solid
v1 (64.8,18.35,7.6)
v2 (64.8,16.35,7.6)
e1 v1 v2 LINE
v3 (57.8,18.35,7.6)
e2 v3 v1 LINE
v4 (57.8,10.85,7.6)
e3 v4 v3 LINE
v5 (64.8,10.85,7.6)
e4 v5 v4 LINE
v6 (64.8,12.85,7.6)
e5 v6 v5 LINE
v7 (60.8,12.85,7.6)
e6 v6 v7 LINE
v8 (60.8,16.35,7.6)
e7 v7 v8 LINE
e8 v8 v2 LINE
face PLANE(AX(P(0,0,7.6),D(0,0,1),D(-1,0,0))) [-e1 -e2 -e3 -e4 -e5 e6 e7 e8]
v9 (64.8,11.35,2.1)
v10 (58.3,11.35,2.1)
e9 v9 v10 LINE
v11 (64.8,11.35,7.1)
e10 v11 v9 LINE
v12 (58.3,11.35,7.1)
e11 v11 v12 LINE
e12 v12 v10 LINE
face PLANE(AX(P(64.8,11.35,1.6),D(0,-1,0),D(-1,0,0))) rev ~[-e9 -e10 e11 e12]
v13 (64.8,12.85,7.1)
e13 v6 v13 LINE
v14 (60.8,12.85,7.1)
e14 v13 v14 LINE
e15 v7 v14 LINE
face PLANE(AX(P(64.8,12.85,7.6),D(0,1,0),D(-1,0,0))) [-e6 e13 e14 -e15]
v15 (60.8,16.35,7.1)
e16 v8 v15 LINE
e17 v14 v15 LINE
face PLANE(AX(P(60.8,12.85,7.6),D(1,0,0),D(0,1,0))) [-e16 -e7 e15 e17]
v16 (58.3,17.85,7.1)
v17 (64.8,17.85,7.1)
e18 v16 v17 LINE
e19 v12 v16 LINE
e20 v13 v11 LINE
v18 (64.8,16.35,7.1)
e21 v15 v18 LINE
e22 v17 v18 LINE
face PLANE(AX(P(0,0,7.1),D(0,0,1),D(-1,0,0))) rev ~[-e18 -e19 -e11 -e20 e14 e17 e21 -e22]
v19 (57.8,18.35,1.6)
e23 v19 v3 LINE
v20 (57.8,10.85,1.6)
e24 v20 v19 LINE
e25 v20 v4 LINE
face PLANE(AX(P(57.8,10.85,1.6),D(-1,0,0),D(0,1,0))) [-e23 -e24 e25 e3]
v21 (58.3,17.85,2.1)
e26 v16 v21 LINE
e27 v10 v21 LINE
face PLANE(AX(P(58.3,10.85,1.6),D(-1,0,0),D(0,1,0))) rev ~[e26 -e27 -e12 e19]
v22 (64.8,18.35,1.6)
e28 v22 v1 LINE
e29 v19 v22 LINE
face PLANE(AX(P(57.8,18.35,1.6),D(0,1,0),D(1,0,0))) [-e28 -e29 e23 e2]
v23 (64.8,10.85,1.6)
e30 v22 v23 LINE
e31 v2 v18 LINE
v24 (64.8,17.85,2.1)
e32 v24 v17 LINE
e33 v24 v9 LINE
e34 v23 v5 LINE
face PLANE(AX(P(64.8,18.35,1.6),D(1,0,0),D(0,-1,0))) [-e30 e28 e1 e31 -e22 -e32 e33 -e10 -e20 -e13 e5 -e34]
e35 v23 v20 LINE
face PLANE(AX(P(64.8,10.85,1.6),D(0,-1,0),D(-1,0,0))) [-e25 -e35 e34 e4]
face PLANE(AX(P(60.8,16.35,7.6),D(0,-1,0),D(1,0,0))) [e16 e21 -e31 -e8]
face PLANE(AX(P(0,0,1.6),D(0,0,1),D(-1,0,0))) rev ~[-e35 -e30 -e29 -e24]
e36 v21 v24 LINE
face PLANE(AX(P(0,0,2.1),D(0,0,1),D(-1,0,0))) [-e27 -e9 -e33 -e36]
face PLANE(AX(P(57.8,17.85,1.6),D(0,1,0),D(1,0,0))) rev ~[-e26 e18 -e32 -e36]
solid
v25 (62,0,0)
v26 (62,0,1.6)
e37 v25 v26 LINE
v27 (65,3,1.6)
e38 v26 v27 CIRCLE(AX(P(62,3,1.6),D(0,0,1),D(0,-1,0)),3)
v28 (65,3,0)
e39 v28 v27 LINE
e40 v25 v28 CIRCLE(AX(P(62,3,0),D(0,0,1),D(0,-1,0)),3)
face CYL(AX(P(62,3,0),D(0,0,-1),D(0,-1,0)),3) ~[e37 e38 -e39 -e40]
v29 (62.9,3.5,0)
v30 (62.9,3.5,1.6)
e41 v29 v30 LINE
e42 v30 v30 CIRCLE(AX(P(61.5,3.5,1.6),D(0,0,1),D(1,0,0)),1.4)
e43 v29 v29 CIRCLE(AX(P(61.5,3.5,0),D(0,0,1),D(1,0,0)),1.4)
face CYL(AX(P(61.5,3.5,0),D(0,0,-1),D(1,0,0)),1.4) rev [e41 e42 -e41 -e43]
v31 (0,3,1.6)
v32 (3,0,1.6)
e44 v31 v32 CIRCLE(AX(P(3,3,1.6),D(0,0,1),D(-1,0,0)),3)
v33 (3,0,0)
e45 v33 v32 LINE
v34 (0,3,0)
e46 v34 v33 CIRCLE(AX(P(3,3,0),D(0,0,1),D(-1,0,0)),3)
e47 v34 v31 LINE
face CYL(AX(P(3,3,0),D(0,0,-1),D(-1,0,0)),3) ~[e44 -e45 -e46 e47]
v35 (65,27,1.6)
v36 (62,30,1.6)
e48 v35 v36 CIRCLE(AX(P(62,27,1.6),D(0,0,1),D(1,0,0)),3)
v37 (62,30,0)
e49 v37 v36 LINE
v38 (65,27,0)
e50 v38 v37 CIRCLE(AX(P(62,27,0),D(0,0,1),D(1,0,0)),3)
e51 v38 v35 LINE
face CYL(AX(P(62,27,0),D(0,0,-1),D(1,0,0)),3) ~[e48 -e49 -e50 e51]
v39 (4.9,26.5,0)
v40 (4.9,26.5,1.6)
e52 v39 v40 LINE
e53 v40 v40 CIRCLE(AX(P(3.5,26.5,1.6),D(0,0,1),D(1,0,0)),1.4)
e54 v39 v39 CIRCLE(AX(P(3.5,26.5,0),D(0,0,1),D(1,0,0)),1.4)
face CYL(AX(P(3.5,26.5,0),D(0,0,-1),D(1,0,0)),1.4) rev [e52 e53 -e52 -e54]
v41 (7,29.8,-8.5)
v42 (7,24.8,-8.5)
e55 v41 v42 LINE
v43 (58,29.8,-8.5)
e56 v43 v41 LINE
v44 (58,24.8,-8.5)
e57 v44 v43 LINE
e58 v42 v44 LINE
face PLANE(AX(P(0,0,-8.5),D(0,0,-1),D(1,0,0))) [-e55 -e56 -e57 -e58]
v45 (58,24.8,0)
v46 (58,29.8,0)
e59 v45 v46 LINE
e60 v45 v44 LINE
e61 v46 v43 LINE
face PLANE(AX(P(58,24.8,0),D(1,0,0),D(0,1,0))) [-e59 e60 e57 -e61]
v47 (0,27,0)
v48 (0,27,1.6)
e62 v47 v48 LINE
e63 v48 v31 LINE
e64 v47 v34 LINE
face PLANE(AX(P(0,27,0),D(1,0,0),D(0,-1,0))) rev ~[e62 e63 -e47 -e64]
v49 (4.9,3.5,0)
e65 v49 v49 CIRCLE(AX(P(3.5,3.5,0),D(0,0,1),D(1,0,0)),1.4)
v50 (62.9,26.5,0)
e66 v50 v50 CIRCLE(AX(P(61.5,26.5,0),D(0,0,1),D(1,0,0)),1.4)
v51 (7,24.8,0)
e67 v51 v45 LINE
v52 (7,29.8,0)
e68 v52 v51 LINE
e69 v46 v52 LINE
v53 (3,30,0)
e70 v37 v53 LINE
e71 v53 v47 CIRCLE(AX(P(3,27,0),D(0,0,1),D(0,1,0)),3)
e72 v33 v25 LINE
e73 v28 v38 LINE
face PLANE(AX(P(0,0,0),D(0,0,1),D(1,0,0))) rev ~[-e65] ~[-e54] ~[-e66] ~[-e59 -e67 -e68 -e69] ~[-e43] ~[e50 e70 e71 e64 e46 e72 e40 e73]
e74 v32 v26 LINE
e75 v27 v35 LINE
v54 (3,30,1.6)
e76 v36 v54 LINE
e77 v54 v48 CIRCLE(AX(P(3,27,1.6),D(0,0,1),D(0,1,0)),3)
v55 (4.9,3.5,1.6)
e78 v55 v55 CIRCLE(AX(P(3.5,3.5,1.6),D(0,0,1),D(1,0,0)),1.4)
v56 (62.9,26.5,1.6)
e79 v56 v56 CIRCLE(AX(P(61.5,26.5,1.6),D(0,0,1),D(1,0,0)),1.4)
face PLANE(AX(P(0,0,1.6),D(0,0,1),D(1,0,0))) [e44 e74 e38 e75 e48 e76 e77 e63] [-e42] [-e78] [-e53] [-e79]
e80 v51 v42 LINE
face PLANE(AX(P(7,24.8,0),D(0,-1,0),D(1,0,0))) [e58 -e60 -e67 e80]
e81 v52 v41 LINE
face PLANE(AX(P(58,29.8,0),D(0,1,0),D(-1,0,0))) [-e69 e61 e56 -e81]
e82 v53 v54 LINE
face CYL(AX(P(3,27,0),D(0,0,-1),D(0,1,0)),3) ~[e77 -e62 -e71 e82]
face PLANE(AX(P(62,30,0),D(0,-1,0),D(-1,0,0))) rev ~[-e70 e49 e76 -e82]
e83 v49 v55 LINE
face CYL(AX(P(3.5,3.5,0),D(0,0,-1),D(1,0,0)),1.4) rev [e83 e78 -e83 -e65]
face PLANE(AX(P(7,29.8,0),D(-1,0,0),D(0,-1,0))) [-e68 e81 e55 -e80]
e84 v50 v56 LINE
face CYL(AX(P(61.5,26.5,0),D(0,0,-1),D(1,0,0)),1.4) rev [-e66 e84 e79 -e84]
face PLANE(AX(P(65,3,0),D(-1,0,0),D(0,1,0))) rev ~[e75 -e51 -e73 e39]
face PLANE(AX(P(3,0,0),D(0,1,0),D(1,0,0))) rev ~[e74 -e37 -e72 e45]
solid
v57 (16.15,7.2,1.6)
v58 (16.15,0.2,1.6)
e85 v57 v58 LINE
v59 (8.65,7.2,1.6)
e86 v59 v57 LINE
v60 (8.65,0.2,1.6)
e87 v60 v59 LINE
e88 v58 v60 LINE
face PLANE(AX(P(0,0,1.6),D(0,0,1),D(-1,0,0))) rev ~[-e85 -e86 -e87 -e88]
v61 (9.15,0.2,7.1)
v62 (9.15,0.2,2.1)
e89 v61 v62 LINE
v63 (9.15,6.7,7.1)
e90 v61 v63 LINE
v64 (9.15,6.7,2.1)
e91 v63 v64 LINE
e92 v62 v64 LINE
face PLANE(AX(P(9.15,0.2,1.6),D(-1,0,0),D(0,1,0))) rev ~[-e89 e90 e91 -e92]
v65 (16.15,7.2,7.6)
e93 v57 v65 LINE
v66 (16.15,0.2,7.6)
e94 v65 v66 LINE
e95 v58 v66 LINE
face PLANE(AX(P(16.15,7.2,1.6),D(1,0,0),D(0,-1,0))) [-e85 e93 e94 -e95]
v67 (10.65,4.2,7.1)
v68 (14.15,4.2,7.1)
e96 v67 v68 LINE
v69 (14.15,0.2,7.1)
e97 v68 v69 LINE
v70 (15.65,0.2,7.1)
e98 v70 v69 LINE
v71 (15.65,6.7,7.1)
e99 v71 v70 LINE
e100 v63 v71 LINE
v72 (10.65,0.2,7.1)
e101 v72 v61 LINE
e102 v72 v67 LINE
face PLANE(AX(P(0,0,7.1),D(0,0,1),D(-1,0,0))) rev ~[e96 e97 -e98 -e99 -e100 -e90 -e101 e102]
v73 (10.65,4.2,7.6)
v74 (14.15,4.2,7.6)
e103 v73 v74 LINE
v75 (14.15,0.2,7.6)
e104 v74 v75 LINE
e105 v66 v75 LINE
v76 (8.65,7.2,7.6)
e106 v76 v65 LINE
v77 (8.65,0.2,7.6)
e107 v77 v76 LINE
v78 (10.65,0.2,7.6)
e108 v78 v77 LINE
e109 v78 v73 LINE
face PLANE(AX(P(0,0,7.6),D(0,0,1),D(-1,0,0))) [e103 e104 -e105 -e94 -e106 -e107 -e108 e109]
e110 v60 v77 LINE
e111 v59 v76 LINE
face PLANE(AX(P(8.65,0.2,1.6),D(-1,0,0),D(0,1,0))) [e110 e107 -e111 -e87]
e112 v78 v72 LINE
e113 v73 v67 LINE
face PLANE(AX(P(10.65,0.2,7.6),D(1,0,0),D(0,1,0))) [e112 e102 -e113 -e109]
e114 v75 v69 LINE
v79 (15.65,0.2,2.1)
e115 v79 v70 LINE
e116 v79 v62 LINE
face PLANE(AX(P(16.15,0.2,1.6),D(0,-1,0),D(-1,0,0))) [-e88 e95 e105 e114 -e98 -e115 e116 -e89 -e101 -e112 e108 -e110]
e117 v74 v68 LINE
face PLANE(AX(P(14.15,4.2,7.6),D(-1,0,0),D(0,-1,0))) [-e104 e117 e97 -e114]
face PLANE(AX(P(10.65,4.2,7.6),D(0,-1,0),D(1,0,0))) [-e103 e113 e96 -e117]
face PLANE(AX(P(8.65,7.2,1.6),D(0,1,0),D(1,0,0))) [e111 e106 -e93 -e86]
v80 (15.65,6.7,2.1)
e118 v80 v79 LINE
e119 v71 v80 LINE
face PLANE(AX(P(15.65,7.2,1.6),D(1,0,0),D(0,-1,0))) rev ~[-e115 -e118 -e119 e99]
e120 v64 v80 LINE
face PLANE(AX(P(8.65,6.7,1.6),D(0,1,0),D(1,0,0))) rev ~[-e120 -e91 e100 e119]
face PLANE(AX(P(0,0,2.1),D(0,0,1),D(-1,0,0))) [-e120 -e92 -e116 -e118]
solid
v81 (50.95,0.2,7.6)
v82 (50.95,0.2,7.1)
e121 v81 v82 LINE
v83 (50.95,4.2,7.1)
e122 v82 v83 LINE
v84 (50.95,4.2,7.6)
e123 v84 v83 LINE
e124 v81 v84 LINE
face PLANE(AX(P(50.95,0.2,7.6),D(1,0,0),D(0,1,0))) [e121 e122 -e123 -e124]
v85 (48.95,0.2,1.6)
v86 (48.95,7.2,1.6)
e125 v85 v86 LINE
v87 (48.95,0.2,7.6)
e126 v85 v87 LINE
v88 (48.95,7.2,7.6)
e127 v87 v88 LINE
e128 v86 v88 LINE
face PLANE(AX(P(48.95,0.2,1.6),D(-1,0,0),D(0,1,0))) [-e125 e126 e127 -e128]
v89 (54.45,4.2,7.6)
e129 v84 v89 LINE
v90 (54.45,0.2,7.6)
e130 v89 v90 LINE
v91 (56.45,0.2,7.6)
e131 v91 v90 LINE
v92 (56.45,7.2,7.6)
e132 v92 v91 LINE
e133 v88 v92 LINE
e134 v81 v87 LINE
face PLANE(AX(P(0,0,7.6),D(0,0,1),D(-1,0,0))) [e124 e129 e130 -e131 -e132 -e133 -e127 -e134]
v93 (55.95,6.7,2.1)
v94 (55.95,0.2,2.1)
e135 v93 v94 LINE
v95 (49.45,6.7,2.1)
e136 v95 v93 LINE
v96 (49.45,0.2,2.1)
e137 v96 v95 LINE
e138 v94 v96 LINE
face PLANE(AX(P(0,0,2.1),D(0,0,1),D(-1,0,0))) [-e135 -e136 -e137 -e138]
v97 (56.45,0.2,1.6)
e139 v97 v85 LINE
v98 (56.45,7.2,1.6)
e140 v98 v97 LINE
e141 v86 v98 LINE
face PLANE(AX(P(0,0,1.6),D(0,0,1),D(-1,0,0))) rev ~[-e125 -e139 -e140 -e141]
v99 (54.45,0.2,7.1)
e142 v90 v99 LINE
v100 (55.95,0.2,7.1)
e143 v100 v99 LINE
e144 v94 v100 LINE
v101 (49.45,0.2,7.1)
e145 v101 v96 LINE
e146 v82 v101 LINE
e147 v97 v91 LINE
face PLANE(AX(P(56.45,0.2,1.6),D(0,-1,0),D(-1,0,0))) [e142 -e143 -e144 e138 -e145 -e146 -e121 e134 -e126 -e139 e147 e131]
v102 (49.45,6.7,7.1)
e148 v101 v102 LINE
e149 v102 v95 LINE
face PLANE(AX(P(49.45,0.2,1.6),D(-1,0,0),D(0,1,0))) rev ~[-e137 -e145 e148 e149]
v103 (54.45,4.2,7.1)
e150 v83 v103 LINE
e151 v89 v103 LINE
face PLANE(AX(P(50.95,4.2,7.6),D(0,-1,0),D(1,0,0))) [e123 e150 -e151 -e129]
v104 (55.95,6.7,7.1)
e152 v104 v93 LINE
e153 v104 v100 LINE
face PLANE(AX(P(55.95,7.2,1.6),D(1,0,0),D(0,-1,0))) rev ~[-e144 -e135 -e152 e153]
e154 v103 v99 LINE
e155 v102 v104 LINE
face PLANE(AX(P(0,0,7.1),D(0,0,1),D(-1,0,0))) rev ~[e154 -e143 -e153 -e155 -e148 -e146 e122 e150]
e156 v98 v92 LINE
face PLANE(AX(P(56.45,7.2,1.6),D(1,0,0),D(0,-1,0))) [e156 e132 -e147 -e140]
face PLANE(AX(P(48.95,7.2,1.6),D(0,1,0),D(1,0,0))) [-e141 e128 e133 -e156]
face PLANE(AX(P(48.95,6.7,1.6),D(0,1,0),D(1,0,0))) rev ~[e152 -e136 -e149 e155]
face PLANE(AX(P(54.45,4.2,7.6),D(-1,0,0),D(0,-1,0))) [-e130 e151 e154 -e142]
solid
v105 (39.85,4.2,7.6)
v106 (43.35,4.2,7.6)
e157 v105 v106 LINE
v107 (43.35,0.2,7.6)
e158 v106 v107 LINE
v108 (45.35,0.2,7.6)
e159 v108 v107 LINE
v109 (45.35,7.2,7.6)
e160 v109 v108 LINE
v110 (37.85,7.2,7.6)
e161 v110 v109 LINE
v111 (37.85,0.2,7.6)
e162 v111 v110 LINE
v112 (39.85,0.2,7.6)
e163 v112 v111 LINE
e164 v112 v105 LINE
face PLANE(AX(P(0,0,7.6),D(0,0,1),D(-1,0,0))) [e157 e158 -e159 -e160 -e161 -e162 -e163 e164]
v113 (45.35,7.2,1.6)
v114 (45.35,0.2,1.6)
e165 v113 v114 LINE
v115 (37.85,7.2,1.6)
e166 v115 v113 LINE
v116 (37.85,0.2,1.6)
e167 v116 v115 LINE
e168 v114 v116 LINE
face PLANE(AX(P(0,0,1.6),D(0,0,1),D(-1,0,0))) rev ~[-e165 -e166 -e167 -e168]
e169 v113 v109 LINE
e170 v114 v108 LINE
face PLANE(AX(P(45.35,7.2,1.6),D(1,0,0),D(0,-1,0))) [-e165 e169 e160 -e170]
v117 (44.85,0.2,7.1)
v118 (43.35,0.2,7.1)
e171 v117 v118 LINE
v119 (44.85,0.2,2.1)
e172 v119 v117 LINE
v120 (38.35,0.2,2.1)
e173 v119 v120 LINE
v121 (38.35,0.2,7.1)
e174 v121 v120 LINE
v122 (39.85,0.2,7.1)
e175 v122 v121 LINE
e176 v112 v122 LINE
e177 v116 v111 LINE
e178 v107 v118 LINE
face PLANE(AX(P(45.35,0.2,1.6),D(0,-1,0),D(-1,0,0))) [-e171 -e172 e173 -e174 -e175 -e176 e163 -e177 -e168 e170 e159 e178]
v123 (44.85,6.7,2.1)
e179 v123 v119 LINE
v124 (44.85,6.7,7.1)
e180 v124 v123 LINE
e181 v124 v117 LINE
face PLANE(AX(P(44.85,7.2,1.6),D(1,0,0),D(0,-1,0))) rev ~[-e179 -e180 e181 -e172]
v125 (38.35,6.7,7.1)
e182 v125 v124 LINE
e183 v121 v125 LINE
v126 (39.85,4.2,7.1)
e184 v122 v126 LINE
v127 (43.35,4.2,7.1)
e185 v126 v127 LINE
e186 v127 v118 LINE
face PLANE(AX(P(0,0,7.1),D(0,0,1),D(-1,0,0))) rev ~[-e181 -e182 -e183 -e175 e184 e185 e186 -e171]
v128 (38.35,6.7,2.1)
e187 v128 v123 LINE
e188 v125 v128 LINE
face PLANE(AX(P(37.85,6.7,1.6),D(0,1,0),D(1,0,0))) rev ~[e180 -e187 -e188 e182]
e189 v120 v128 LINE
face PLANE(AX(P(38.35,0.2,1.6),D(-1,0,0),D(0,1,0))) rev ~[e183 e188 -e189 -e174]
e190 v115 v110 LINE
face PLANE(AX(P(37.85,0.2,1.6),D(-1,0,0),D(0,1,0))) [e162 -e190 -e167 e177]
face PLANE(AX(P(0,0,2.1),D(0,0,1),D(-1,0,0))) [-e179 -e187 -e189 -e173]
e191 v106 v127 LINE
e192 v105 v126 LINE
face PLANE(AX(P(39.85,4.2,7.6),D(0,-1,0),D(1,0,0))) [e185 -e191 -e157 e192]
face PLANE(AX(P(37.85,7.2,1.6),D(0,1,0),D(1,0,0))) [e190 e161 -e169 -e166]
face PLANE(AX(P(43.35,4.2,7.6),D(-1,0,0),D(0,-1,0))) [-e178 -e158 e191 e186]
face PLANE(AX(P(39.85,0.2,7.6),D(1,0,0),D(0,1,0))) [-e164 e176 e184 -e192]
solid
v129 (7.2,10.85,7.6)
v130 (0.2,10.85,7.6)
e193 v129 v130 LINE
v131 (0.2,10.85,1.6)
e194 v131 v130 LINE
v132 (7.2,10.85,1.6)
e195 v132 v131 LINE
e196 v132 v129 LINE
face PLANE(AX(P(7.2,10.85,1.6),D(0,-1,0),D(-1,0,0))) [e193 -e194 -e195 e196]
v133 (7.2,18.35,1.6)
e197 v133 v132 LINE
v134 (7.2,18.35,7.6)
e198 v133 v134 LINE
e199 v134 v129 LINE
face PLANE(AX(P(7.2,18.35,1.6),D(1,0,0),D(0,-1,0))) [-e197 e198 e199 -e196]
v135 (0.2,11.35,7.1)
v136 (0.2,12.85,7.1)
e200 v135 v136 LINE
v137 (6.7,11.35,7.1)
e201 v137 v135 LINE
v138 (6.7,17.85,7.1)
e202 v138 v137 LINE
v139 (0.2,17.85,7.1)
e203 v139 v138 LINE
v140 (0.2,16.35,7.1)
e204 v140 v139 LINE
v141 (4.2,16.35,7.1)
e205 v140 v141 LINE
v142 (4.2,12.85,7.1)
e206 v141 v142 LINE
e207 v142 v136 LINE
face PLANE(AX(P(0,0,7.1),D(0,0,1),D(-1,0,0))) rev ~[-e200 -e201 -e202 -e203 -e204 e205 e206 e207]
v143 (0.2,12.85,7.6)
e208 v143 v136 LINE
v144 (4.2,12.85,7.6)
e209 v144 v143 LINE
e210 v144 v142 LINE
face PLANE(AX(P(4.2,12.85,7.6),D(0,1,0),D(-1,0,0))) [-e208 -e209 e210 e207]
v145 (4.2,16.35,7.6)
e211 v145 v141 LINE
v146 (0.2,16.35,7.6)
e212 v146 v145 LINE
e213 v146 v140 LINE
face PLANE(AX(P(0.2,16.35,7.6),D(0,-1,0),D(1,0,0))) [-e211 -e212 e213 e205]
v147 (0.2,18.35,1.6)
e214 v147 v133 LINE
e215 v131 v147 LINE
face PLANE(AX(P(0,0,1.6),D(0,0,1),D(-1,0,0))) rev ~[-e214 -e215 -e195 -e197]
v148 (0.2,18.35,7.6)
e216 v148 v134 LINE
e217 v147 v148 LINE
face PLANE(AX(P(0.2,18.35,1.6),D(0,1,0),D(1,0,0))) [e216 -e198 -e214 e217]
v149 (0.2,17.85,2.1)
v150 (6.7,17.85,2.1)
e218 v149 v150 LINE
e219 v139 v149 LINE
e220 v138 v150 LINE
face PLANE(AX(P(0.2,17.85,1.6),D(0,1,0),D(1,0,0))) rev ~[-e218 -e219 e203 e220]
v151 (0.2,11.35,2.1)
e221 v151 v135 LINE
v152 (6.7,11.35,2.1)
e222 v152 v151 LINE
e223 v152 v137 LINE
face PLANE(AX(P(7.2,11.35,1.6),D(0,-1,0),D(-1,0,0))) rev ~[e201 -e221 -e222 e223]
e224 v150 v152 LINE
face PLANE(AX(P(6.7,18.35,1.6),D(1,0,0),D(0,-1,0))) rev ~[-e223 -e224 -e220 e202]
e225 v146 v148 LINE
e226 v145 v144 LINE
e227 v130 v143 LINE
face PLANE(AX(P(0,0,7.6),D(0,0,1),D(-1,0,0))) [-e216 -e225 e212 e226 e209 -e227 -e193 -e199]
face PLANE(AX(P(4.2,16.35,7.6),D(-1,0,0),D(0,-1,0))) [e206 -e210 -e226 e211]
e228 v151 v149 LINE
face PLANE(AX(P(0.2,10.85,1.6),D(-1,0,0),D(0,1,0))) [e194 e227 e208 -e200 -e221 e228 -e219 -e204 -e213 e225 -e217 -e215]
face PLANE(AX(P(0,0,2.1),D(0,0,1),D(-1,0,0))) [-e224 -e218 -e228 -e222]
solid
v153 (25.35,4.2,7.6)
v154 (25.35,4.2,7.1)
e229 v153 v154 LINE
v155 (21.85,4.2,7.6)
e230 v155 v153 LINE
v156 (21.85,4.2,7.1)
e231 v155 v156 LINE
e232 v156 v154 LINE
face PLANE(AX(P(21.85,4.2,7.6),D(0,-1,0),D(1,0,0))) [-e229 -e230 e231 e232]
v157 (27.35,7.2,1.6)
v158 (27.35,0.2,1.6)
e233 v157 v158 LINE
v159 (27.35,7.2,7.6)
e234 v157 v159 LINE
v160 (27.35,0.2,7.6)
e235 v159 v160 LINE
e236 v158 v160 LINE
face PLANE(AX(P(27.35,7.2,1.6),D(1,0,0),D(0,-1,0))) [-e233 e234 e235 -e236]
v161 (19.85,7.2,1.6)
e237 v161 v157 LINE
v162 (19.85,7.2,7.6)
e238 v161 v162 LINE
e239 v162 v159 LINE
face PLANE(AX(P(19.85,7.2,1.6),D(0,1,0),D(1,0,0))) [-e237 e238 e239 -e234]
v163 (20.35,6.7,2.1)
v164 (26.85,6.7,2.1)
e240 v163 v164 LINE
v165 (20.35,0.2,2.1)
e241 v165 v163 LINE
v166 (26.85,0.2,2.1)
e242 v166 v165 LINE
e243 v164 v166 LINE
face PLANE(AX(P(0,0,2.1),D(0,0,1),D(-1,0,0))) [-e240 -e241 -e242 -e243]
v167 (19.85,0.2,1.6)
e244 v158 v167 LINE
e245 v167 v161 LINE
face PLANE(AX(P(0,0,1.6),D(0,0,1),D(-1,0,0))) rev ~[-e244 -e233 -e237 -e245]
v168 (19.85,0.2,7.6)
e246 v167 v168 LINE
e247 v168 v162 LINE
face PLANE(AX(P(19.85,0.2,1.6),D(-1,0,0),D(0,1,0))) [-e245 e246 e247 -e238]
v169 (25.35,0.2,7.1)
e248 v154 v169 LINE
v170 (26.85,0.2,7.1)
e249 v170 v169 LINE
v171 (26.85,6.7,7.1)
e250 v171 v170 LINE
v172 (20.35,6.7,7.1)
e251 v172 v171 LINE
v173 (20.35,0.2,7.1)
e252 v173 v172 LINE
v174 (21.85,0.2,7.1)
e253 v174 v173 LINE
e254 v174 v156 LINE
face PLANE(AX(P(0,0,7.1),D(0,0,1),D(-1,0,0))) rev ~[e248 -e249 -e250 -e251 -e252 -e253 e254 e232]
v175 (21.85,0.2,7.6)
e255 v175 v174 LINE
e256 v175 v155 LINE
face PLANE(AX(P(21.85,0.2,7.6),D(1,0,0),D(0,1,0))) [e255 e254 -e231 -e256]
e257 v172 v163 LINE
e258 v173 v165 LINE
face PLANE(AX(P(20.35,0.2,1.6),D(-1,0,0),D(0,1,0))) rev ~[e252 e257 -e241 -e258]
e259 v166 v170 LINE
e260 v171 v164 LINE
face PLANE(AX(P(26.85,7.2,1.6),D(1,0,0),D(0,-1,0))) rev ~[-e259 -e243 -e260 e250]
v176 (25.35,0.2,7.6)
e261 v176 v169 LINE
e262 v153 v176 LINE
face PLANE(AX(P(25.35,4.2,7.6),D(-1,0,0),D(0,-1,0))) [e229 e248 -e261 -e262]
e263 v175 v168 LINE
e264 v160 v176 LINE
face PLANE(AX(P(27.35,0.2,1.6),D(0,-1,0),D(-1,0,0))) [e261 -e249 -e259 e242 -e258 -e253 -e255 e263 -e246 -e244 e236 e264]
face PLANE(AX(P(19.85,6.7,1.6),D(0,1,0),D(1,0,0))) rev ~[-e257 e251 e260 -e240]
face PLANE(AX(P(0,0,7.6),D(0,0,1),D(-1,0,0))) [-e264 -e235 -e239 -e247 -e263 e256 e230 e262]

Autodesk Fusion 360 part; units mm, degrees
sketch "Adafruit Arcade Bonnet" plane through (0, 0, 0) normal (0, 0, 1) x (1, 0, 0)
  circle A0 centre (3.5, 26.5) radius 1.4
  arc A1 (65, 27) -> (62, 30) centre (62, 27) ccw
  line L0 (65, 3) -> (65, 27)
  line L1 (62, 30) -> (3, 30)
  line L2 (0, 27) -> (0, 3)
  arc A2 (0, 3) -> (3, 0) centre (3, 3) ccw
  arc A3 (3, 30) -> (0, 27) centre (3, 27) ccw
  line L3 (3, 0) -> (62, 0)
  circle A4 centre (61.5, 26.5) radius 1.4
  circle A5 centre (3.5, 3.5) radius 1.4
  arc A6 (62, 0) -> (65, 3) centre (62, 3) ccw
  circle A7 centre (61.5, 3.5) radius 1.4
extrude "Extrude1" add sketch "Adafruit Arcade Bonnet" along normal blind 1.6 makes body 1
sketch "jst boxes" plane through (0, 0, 1.6) normal (0, 0, 1) x (-1, 0, 0)
  circle A0 centre (-3.5, -3.5) radius 1.4
  circle A1 centre (-61.5, -26.5) radius 1.4
  circle A2 centre (-61.5, -3.5) radius 1.4
  circle A3 centre (-3.5, -26.5) radius 1.4
  arc A4 (-62, 0) -> (-65, -3) centre (-62, -3) ccw
  line L0 (-65, -3) -> (-65, -27)
  arc A5 (-65, -27) -> (-62, -30) centre (-62, -27) ccw
  line L1 (-62, -30) -> (-3, -30)
  arc A6 (-3, -30) -> (0, -27) centre (-3, -27) ccw
  line L2 (0, -27) -> (0, -3)
  arc A7 (0, -3) -> (-3, 0) centre (-3, -3) ccw
  line L3 (-3, 0) -> (-62, 0)
  line L4 (-7.2, -10.85) -> (-0.2, -10.85)
  line L5 (-0.2, -10.85) -> (-0.2, -18.35)
  line L6 (-0.2, -18.35) -> (-7.2, -18.35)
  line L7 (-7.2, -18.35) -> (-7.2, -10.85)
  line L8 (-7.2, -10.85) -> (-0.2, -18.35) construction
  line L9 (-0.2, -10.85) -> (-7.2, -18.35) construction
  line L10 (-16.15, -0.2) -> (-8.65, -0.2)
  line L11 (-8.65, -0.2) -> (-8.65, -7.2)
  line L12 (-8.65, -7.2) -> (-16.15, -7.2)
  line L13 (-16.15, -7.2) -> (-16.15, -0.2)
  line L14 (-16.15, -0.2) -> (-8.65, -7.2) construction
  line L15 (-8.65, -0.2) -> (-16.15, -7.2) construction
  line L16 (-27.35, -0.2) -> (-19.85, -0.2)
  line L17 (-19.85, -0.2) -> (-19.85, -7.2)
  line L18 (-19.85, -7.2) -> (-27.35, -7.2)
  line L19 (-27.35, -7.2) -> (-27.35, -0.2)
  line L20 (-27.35, -0.2) -> (-19.85, -7.2) construction
  line L21 (-19.85, -0.2) -> (-27.35, -7.2) construction
  line L22 (-56.45, -0.2) -> (-48.95, -0.2)
  line L23 (-48.95, -0.2) -> (-48.95, -7.2)
  line L24 (-48.95, -7.2) -> (-56.45, -7.2)
  line L25 (-56.45, -7.2) -> (-56.45, -0.2)
  line L26 (-56.45, -0.2) -> (-48.95, -7.2) construction
  line L27 (-48.95, -0.2) -> (-56.45, -7.2) construction
  line L28 (-45.35, -0.2) -> (-37.85, -0.2)
  line L29 (-37.85, -0.2) -> (-37.85, -7.2)
  line L30 (-37.85, -7.2) -> (-45.35, -7.2)
  line L31 (-45.35, -7.2) -> (-45.35, -0.2)
  line L32 (-45.35, -0.2) -> (-37.85, -7.2) construction
  line L33 (-37.85, -0.2) -> (-45.35, -7.2) construction
  line L34 (-64.8, -10.85) -> (-57.8, -10.85)
  line L35 (-57.8, -10.85) -> (-57.8, -18.35)
  line L36 (-57.8, -18.35) -> (-64.8, -18.35)
  line L37 (-64.8, -18.35) -> (-64.8, -10.85)
  line L38 (-64.8, -10.85) -> (-57.8, -18.35) construction
  line L39 (-57.8, -10.85) -> (-64.8, -18.35) construction
  point P0 (-3.7, -14.6)
  point P1 (-12.4, -3.7)
  point P2 (-23.6, -3.7)
  point P3 (-52.7, -3.7)
  point P4 (-41.6, -3.7)
  point P5 (-61.3, -14.6)
  dimension "d3" = 7.5
  dimension "d4" = 7
  dimension "d5" = 14.6
  dimension "d6" = 0.2
  dimension "d7" = 7.5
  dimension "d8" = 7
  dimension "d9" = 12.4
  dimension "d10" = 0.2
  dimension "d11" = 7.5
  dimension "d12" = 7
  dimension "d13" = 23.6
  dimension "d14" = 0.2
  dimension "d15" = 7.5
  dimension "d16" = 7
  dimension "d17" = 52.7
  dimension "d18" = 0.2
  dimension "d19" = 7.5
  dimension "d20" = 7
  dimension "d21" = 41.6
  dimension "d22" = 0.2
  dimension "d23" = 7.5
  dimension "d24" = 7
  dimension "d25" = 14.6
  dimension "d26" = 0.2
extrude "Extrude2" add sketch "jst boxes" along normal blind 6 separate body contours L4 L5 L6 L7 | L10 L11 L12 L13 | L16 L17 L18 L19 | L22 L23 L24 L25 | L28 L29 L30 L31 | L34 L35 L36 L37 makes body 2 at (40.35, 2.5333, 1.6) makes body 3 at (4.8667, 13.35, 1.6) makes body 4 at (53.95, 2.5333, 1.6) makes body 5 at (24.85, 2.5333, 1.6) makes body 6 at (13.65, 4.8667, 1.6) makes body 7 at (60.1333, 15.85, 1.6)
sketch "jst cuts" plane through (0, 0, 7.6) normal (0, 0, 1) x (-1, 0, 0)
  line L0 (-7.2, -18.35) -> (-0.2, -18.35)
  line L1 (-0.2, -18.35) -> (-0.2, -10.85)
  line L2 (-0.2, -10.85) -> (-7.2, -10.85)
  line L3 (-7.2, -10.85) -> (-7.2, -18.35)
  line L4 (-16.15, -7.2) -> (-8.65, -7.2)
  line L5 (-8.65, -7.2) -> (-8.65, -0.2)
  line L6 (-8.65, -0.2) -> (-16.15, -0.2)
  line L7 (-16.15, -0.2) -> (-16.15, -7.2)
  line L8 (-27.35, -7.2) -> (-19.85, -7.2)
  line L9 (-19.85, -7.2) -> (-19.85, -0.2)
  line L10 (-19.85, -0.2) -> (-27.35, -0.2)
  line L11 (-27.35, -0.2) -> (-27.35, -7.2)
  line L12 (-45.35, -7.2) -> (-37.85, -7.2)
  line L13 (-37.85, -7.2) -> (-37.85, -0.2)
  line L14 (-37.85, -0.2) -> (-45.35, -0.2)
  line L15 (-45.35, -0.2) -> (-45.35, -7.2)
  line L16 (-56.45, -7.2) -> (-48.95, -7.2)
  line L17 (-48.95, -7.2) -> (-48.95, -0.2)
  line L18 (-48.95, -0.2) -> (-56.45, -0.2)
  line L19 (-56.45, -0.2) -> (-56.45, -7.2)
  line L20 (-64.8, -18.35) -> (-57.8, -18.35)
  line L21 (-57.8, -18.35) -> (-57.8, -10.85)
  line L22 (-57.8, -10.85) -> (-64.8, -10.85)
  line L23 (-64.8, -10.85) -> (-64.8, -18.35)
  line L24 (-4.2, -12.85) -> (3.8, -12.85)
  line L25 (3.8, -12.85) -> (3.8, -16.35)
  line L26 (3.8, -16.35) -> (-4.2, -16.35)
  line L27 (-4.2, -16.35) -> (-4.2, -12.85)
  line L28 (-4.2, -12.85) -> (3.8, -16.35) construction
  line L29 (3.8, -12.85) -> (-4.2, -16.35) construction
  line L30 (-14.15, 3.8) -> (-10.65, 3.8)
  line L31 (-10.65, 3.8) -> (-10.65, -4.2)
  line L32 (-10.65, -4.2) -> (-14.15, -4.2)
  line L33 (-14.15, -4.2) -> (-14.15, 3.8)
  line L34 (-14.15, 3.8) -> (-10.65, -4.2) construction
  line L35 (-10.65, 3.8) -> (-14.15, -4.2) construction
  line L36 (-25.35, 3.8) -> (-21.85, 3.8)
  line L37 (-21.85, 3.8) -> (-21.85, -4.2)
  line L38 (-21.85, -4.2) -> (-25.35, -4.2)
  line L39 (-25.35, -4.2) -> (-25.35, 3.8)
  line L40 (-25.35, 3.8) -> (-21.85, -4.2) construction
  line L41 (-21.85, 3.8) -> (-25.35, -4.2) construction
  line L42 (-43.35, 3.8) -> (-39.85, 3.8)
  line L43 (-39.85, 3.8) -> (-39.85, -4.2)
  line L44 (-39.85, -4.2) -> (-43.35, -4.2)
  line L45 (-43.35, -4.2) -> (-43.35, 3.8)
  line L46 (-43.35, 3.8) -> (-39.85, -4.2) construction
  line L47 (-39.85, 3.8) -> (-43.35, -4.2) construction
  line L48 (-54.45, 3.8) -> (-50.95, 3.8)
  line L49 (-50.95, 3.8) -> (-50.95, -4.2)
  line L50 (-50.95, -4.2) -> (-54.45, -4.2)
  line L51 (-54.45, -4.2) -> (-54.45, 3.8)
  line L52 (-54.45, 3.8) -> (-50.95, -4.2) construction
  line L53 (-50.95, 3.8) -> (-54.45, -4.2) construction
  line L54 (-68.8, -12.85) -> (-60.8, -12.85)
  line L55 (-60.8, -12.85) -> (-60.8, -16.35)
  line L56 (-60.8, -16.35) -> (-68.8, -16.35)
  line L57 (-68.8, -16.35) -> (-68.8, -12.85)
  line L58 (-68.8, -12.85) -> (-60.8, -16.35) construction
  line L59 (-60.8, -12.85) -> (-68.8, -16.35) construction
  point P0 (-0.2, -14.6)
  point P1 (-12.4, -0.2)
  point P2 (-23.6, -0.2)
  point P3 (-41.6, -0.2)
  point P4 (-52.7, -0.2)
  point P5 (-64.8, -14.6)
  dimension "d31" = 8
  dimension "d32" = 3.5
  dimension "d33" = 3.5
  dimension "d34" = 8
  dimension "d35" = 8
  dimension "d36" = 3.5
  dimension "d37" = 8
  dimension "d38" = 3.5
  dimension "d39" = 8
  dimension "d40" = 3.5
  dimension "d41" = 8
  dimension "d42" = 3.5
shell "Shell1" thickness 0.5 removed faces 6 at (42.85, 0.2, 3.6) at (0.2, 13.35, 3.6) at (53.95, 0.2, 3.6) at (24.85, 0.2, 3.6) at (13.65, 0.2, 3.6) at (64.8, 15.85, 3.6) on bodies 2 3 4 5 6 7
extrude "Extrude3" cut sketch "jst cuts" against normal blind 0.5 contours L1 L24 L26 L27 | L6 L31 L32 L33 | L10 L37 L38 L39 | L14 L43 L44 L45 | L18 L49 L50 L51 | L23 L54 L55 L56 bodies 2 3 4 5 6 7
sketch "Sketch4" plane through (0, 0, 0) normal (0, 0, -1) x (1, 0, 0)
  circle A0 centre (3.5, -3.5) radius 1.4
  circle A1 centre (61.5, -26.5) radius 1.4
  circle A2 centre (61.5, -3.5) radius 1.4
  circle A3 centre (3.5, -26.5) radius 1.4
  arc A4 (65, -3) -> (62, 0) centre (62, -3) ccw
  line L0 (62, 0) -> (3, 0)
  arc A5 (3, 0) -> (0, -3) centre (3, -3) ccw
  line L1 (0, -3) -> (0, -27)
  arc A6 (0, -27) -> (3, -30) centre (3, -27) ccw
  line L2 (3, -30) -> (62, -30)
  arc A7 (62, -30) -> (65, -27) centre (62, -27) ccw
  line L3 (65, -27) -> (65, -3)
  line L4 (32.5, 0) -> (32.5, -30) construction
  line L5 (58, -29.8) -> (7, -29.8)
  line L6 (7, -29.8) -> (7, -24.8)
  line L7 (7, -24.8) -> (58, -24.8)
  line L8 (58, -24.8) -> (58, -29.8)
  line L9 (58, -29.8) -> (7, -24.8) construction
  line L10 (7, -29.8) -> (58, -24.8) construction
  point P0 (32.5, -27.3)
  dimension "d46" = 51
  dimension "d47" = 5
  dimension "d51" = 0.2
extrude "Extrude4" add sketch "Sketch4" along normal blind 8.5 contours L5 L6 L7 L8 bodies 1
equation "d3 = jstWidth"
equation "d4 = jstLeng"
equation "d7 = jstWidth"
equation "d8 = jstLeng"
equation "d11 = jstWidth"
equation "d12 = jstLeng"
equation "d15 = jstWidth"
equation "d16 = jstLeng"
equation "d19 = jstWidth"
equation "d20 = jstLeng"
equation "d23 = jstWidth"
equation "d24 = jstLeng"
equation "jstWidth = 7.5 mm"
equation "jstLeng = 7 mm"
